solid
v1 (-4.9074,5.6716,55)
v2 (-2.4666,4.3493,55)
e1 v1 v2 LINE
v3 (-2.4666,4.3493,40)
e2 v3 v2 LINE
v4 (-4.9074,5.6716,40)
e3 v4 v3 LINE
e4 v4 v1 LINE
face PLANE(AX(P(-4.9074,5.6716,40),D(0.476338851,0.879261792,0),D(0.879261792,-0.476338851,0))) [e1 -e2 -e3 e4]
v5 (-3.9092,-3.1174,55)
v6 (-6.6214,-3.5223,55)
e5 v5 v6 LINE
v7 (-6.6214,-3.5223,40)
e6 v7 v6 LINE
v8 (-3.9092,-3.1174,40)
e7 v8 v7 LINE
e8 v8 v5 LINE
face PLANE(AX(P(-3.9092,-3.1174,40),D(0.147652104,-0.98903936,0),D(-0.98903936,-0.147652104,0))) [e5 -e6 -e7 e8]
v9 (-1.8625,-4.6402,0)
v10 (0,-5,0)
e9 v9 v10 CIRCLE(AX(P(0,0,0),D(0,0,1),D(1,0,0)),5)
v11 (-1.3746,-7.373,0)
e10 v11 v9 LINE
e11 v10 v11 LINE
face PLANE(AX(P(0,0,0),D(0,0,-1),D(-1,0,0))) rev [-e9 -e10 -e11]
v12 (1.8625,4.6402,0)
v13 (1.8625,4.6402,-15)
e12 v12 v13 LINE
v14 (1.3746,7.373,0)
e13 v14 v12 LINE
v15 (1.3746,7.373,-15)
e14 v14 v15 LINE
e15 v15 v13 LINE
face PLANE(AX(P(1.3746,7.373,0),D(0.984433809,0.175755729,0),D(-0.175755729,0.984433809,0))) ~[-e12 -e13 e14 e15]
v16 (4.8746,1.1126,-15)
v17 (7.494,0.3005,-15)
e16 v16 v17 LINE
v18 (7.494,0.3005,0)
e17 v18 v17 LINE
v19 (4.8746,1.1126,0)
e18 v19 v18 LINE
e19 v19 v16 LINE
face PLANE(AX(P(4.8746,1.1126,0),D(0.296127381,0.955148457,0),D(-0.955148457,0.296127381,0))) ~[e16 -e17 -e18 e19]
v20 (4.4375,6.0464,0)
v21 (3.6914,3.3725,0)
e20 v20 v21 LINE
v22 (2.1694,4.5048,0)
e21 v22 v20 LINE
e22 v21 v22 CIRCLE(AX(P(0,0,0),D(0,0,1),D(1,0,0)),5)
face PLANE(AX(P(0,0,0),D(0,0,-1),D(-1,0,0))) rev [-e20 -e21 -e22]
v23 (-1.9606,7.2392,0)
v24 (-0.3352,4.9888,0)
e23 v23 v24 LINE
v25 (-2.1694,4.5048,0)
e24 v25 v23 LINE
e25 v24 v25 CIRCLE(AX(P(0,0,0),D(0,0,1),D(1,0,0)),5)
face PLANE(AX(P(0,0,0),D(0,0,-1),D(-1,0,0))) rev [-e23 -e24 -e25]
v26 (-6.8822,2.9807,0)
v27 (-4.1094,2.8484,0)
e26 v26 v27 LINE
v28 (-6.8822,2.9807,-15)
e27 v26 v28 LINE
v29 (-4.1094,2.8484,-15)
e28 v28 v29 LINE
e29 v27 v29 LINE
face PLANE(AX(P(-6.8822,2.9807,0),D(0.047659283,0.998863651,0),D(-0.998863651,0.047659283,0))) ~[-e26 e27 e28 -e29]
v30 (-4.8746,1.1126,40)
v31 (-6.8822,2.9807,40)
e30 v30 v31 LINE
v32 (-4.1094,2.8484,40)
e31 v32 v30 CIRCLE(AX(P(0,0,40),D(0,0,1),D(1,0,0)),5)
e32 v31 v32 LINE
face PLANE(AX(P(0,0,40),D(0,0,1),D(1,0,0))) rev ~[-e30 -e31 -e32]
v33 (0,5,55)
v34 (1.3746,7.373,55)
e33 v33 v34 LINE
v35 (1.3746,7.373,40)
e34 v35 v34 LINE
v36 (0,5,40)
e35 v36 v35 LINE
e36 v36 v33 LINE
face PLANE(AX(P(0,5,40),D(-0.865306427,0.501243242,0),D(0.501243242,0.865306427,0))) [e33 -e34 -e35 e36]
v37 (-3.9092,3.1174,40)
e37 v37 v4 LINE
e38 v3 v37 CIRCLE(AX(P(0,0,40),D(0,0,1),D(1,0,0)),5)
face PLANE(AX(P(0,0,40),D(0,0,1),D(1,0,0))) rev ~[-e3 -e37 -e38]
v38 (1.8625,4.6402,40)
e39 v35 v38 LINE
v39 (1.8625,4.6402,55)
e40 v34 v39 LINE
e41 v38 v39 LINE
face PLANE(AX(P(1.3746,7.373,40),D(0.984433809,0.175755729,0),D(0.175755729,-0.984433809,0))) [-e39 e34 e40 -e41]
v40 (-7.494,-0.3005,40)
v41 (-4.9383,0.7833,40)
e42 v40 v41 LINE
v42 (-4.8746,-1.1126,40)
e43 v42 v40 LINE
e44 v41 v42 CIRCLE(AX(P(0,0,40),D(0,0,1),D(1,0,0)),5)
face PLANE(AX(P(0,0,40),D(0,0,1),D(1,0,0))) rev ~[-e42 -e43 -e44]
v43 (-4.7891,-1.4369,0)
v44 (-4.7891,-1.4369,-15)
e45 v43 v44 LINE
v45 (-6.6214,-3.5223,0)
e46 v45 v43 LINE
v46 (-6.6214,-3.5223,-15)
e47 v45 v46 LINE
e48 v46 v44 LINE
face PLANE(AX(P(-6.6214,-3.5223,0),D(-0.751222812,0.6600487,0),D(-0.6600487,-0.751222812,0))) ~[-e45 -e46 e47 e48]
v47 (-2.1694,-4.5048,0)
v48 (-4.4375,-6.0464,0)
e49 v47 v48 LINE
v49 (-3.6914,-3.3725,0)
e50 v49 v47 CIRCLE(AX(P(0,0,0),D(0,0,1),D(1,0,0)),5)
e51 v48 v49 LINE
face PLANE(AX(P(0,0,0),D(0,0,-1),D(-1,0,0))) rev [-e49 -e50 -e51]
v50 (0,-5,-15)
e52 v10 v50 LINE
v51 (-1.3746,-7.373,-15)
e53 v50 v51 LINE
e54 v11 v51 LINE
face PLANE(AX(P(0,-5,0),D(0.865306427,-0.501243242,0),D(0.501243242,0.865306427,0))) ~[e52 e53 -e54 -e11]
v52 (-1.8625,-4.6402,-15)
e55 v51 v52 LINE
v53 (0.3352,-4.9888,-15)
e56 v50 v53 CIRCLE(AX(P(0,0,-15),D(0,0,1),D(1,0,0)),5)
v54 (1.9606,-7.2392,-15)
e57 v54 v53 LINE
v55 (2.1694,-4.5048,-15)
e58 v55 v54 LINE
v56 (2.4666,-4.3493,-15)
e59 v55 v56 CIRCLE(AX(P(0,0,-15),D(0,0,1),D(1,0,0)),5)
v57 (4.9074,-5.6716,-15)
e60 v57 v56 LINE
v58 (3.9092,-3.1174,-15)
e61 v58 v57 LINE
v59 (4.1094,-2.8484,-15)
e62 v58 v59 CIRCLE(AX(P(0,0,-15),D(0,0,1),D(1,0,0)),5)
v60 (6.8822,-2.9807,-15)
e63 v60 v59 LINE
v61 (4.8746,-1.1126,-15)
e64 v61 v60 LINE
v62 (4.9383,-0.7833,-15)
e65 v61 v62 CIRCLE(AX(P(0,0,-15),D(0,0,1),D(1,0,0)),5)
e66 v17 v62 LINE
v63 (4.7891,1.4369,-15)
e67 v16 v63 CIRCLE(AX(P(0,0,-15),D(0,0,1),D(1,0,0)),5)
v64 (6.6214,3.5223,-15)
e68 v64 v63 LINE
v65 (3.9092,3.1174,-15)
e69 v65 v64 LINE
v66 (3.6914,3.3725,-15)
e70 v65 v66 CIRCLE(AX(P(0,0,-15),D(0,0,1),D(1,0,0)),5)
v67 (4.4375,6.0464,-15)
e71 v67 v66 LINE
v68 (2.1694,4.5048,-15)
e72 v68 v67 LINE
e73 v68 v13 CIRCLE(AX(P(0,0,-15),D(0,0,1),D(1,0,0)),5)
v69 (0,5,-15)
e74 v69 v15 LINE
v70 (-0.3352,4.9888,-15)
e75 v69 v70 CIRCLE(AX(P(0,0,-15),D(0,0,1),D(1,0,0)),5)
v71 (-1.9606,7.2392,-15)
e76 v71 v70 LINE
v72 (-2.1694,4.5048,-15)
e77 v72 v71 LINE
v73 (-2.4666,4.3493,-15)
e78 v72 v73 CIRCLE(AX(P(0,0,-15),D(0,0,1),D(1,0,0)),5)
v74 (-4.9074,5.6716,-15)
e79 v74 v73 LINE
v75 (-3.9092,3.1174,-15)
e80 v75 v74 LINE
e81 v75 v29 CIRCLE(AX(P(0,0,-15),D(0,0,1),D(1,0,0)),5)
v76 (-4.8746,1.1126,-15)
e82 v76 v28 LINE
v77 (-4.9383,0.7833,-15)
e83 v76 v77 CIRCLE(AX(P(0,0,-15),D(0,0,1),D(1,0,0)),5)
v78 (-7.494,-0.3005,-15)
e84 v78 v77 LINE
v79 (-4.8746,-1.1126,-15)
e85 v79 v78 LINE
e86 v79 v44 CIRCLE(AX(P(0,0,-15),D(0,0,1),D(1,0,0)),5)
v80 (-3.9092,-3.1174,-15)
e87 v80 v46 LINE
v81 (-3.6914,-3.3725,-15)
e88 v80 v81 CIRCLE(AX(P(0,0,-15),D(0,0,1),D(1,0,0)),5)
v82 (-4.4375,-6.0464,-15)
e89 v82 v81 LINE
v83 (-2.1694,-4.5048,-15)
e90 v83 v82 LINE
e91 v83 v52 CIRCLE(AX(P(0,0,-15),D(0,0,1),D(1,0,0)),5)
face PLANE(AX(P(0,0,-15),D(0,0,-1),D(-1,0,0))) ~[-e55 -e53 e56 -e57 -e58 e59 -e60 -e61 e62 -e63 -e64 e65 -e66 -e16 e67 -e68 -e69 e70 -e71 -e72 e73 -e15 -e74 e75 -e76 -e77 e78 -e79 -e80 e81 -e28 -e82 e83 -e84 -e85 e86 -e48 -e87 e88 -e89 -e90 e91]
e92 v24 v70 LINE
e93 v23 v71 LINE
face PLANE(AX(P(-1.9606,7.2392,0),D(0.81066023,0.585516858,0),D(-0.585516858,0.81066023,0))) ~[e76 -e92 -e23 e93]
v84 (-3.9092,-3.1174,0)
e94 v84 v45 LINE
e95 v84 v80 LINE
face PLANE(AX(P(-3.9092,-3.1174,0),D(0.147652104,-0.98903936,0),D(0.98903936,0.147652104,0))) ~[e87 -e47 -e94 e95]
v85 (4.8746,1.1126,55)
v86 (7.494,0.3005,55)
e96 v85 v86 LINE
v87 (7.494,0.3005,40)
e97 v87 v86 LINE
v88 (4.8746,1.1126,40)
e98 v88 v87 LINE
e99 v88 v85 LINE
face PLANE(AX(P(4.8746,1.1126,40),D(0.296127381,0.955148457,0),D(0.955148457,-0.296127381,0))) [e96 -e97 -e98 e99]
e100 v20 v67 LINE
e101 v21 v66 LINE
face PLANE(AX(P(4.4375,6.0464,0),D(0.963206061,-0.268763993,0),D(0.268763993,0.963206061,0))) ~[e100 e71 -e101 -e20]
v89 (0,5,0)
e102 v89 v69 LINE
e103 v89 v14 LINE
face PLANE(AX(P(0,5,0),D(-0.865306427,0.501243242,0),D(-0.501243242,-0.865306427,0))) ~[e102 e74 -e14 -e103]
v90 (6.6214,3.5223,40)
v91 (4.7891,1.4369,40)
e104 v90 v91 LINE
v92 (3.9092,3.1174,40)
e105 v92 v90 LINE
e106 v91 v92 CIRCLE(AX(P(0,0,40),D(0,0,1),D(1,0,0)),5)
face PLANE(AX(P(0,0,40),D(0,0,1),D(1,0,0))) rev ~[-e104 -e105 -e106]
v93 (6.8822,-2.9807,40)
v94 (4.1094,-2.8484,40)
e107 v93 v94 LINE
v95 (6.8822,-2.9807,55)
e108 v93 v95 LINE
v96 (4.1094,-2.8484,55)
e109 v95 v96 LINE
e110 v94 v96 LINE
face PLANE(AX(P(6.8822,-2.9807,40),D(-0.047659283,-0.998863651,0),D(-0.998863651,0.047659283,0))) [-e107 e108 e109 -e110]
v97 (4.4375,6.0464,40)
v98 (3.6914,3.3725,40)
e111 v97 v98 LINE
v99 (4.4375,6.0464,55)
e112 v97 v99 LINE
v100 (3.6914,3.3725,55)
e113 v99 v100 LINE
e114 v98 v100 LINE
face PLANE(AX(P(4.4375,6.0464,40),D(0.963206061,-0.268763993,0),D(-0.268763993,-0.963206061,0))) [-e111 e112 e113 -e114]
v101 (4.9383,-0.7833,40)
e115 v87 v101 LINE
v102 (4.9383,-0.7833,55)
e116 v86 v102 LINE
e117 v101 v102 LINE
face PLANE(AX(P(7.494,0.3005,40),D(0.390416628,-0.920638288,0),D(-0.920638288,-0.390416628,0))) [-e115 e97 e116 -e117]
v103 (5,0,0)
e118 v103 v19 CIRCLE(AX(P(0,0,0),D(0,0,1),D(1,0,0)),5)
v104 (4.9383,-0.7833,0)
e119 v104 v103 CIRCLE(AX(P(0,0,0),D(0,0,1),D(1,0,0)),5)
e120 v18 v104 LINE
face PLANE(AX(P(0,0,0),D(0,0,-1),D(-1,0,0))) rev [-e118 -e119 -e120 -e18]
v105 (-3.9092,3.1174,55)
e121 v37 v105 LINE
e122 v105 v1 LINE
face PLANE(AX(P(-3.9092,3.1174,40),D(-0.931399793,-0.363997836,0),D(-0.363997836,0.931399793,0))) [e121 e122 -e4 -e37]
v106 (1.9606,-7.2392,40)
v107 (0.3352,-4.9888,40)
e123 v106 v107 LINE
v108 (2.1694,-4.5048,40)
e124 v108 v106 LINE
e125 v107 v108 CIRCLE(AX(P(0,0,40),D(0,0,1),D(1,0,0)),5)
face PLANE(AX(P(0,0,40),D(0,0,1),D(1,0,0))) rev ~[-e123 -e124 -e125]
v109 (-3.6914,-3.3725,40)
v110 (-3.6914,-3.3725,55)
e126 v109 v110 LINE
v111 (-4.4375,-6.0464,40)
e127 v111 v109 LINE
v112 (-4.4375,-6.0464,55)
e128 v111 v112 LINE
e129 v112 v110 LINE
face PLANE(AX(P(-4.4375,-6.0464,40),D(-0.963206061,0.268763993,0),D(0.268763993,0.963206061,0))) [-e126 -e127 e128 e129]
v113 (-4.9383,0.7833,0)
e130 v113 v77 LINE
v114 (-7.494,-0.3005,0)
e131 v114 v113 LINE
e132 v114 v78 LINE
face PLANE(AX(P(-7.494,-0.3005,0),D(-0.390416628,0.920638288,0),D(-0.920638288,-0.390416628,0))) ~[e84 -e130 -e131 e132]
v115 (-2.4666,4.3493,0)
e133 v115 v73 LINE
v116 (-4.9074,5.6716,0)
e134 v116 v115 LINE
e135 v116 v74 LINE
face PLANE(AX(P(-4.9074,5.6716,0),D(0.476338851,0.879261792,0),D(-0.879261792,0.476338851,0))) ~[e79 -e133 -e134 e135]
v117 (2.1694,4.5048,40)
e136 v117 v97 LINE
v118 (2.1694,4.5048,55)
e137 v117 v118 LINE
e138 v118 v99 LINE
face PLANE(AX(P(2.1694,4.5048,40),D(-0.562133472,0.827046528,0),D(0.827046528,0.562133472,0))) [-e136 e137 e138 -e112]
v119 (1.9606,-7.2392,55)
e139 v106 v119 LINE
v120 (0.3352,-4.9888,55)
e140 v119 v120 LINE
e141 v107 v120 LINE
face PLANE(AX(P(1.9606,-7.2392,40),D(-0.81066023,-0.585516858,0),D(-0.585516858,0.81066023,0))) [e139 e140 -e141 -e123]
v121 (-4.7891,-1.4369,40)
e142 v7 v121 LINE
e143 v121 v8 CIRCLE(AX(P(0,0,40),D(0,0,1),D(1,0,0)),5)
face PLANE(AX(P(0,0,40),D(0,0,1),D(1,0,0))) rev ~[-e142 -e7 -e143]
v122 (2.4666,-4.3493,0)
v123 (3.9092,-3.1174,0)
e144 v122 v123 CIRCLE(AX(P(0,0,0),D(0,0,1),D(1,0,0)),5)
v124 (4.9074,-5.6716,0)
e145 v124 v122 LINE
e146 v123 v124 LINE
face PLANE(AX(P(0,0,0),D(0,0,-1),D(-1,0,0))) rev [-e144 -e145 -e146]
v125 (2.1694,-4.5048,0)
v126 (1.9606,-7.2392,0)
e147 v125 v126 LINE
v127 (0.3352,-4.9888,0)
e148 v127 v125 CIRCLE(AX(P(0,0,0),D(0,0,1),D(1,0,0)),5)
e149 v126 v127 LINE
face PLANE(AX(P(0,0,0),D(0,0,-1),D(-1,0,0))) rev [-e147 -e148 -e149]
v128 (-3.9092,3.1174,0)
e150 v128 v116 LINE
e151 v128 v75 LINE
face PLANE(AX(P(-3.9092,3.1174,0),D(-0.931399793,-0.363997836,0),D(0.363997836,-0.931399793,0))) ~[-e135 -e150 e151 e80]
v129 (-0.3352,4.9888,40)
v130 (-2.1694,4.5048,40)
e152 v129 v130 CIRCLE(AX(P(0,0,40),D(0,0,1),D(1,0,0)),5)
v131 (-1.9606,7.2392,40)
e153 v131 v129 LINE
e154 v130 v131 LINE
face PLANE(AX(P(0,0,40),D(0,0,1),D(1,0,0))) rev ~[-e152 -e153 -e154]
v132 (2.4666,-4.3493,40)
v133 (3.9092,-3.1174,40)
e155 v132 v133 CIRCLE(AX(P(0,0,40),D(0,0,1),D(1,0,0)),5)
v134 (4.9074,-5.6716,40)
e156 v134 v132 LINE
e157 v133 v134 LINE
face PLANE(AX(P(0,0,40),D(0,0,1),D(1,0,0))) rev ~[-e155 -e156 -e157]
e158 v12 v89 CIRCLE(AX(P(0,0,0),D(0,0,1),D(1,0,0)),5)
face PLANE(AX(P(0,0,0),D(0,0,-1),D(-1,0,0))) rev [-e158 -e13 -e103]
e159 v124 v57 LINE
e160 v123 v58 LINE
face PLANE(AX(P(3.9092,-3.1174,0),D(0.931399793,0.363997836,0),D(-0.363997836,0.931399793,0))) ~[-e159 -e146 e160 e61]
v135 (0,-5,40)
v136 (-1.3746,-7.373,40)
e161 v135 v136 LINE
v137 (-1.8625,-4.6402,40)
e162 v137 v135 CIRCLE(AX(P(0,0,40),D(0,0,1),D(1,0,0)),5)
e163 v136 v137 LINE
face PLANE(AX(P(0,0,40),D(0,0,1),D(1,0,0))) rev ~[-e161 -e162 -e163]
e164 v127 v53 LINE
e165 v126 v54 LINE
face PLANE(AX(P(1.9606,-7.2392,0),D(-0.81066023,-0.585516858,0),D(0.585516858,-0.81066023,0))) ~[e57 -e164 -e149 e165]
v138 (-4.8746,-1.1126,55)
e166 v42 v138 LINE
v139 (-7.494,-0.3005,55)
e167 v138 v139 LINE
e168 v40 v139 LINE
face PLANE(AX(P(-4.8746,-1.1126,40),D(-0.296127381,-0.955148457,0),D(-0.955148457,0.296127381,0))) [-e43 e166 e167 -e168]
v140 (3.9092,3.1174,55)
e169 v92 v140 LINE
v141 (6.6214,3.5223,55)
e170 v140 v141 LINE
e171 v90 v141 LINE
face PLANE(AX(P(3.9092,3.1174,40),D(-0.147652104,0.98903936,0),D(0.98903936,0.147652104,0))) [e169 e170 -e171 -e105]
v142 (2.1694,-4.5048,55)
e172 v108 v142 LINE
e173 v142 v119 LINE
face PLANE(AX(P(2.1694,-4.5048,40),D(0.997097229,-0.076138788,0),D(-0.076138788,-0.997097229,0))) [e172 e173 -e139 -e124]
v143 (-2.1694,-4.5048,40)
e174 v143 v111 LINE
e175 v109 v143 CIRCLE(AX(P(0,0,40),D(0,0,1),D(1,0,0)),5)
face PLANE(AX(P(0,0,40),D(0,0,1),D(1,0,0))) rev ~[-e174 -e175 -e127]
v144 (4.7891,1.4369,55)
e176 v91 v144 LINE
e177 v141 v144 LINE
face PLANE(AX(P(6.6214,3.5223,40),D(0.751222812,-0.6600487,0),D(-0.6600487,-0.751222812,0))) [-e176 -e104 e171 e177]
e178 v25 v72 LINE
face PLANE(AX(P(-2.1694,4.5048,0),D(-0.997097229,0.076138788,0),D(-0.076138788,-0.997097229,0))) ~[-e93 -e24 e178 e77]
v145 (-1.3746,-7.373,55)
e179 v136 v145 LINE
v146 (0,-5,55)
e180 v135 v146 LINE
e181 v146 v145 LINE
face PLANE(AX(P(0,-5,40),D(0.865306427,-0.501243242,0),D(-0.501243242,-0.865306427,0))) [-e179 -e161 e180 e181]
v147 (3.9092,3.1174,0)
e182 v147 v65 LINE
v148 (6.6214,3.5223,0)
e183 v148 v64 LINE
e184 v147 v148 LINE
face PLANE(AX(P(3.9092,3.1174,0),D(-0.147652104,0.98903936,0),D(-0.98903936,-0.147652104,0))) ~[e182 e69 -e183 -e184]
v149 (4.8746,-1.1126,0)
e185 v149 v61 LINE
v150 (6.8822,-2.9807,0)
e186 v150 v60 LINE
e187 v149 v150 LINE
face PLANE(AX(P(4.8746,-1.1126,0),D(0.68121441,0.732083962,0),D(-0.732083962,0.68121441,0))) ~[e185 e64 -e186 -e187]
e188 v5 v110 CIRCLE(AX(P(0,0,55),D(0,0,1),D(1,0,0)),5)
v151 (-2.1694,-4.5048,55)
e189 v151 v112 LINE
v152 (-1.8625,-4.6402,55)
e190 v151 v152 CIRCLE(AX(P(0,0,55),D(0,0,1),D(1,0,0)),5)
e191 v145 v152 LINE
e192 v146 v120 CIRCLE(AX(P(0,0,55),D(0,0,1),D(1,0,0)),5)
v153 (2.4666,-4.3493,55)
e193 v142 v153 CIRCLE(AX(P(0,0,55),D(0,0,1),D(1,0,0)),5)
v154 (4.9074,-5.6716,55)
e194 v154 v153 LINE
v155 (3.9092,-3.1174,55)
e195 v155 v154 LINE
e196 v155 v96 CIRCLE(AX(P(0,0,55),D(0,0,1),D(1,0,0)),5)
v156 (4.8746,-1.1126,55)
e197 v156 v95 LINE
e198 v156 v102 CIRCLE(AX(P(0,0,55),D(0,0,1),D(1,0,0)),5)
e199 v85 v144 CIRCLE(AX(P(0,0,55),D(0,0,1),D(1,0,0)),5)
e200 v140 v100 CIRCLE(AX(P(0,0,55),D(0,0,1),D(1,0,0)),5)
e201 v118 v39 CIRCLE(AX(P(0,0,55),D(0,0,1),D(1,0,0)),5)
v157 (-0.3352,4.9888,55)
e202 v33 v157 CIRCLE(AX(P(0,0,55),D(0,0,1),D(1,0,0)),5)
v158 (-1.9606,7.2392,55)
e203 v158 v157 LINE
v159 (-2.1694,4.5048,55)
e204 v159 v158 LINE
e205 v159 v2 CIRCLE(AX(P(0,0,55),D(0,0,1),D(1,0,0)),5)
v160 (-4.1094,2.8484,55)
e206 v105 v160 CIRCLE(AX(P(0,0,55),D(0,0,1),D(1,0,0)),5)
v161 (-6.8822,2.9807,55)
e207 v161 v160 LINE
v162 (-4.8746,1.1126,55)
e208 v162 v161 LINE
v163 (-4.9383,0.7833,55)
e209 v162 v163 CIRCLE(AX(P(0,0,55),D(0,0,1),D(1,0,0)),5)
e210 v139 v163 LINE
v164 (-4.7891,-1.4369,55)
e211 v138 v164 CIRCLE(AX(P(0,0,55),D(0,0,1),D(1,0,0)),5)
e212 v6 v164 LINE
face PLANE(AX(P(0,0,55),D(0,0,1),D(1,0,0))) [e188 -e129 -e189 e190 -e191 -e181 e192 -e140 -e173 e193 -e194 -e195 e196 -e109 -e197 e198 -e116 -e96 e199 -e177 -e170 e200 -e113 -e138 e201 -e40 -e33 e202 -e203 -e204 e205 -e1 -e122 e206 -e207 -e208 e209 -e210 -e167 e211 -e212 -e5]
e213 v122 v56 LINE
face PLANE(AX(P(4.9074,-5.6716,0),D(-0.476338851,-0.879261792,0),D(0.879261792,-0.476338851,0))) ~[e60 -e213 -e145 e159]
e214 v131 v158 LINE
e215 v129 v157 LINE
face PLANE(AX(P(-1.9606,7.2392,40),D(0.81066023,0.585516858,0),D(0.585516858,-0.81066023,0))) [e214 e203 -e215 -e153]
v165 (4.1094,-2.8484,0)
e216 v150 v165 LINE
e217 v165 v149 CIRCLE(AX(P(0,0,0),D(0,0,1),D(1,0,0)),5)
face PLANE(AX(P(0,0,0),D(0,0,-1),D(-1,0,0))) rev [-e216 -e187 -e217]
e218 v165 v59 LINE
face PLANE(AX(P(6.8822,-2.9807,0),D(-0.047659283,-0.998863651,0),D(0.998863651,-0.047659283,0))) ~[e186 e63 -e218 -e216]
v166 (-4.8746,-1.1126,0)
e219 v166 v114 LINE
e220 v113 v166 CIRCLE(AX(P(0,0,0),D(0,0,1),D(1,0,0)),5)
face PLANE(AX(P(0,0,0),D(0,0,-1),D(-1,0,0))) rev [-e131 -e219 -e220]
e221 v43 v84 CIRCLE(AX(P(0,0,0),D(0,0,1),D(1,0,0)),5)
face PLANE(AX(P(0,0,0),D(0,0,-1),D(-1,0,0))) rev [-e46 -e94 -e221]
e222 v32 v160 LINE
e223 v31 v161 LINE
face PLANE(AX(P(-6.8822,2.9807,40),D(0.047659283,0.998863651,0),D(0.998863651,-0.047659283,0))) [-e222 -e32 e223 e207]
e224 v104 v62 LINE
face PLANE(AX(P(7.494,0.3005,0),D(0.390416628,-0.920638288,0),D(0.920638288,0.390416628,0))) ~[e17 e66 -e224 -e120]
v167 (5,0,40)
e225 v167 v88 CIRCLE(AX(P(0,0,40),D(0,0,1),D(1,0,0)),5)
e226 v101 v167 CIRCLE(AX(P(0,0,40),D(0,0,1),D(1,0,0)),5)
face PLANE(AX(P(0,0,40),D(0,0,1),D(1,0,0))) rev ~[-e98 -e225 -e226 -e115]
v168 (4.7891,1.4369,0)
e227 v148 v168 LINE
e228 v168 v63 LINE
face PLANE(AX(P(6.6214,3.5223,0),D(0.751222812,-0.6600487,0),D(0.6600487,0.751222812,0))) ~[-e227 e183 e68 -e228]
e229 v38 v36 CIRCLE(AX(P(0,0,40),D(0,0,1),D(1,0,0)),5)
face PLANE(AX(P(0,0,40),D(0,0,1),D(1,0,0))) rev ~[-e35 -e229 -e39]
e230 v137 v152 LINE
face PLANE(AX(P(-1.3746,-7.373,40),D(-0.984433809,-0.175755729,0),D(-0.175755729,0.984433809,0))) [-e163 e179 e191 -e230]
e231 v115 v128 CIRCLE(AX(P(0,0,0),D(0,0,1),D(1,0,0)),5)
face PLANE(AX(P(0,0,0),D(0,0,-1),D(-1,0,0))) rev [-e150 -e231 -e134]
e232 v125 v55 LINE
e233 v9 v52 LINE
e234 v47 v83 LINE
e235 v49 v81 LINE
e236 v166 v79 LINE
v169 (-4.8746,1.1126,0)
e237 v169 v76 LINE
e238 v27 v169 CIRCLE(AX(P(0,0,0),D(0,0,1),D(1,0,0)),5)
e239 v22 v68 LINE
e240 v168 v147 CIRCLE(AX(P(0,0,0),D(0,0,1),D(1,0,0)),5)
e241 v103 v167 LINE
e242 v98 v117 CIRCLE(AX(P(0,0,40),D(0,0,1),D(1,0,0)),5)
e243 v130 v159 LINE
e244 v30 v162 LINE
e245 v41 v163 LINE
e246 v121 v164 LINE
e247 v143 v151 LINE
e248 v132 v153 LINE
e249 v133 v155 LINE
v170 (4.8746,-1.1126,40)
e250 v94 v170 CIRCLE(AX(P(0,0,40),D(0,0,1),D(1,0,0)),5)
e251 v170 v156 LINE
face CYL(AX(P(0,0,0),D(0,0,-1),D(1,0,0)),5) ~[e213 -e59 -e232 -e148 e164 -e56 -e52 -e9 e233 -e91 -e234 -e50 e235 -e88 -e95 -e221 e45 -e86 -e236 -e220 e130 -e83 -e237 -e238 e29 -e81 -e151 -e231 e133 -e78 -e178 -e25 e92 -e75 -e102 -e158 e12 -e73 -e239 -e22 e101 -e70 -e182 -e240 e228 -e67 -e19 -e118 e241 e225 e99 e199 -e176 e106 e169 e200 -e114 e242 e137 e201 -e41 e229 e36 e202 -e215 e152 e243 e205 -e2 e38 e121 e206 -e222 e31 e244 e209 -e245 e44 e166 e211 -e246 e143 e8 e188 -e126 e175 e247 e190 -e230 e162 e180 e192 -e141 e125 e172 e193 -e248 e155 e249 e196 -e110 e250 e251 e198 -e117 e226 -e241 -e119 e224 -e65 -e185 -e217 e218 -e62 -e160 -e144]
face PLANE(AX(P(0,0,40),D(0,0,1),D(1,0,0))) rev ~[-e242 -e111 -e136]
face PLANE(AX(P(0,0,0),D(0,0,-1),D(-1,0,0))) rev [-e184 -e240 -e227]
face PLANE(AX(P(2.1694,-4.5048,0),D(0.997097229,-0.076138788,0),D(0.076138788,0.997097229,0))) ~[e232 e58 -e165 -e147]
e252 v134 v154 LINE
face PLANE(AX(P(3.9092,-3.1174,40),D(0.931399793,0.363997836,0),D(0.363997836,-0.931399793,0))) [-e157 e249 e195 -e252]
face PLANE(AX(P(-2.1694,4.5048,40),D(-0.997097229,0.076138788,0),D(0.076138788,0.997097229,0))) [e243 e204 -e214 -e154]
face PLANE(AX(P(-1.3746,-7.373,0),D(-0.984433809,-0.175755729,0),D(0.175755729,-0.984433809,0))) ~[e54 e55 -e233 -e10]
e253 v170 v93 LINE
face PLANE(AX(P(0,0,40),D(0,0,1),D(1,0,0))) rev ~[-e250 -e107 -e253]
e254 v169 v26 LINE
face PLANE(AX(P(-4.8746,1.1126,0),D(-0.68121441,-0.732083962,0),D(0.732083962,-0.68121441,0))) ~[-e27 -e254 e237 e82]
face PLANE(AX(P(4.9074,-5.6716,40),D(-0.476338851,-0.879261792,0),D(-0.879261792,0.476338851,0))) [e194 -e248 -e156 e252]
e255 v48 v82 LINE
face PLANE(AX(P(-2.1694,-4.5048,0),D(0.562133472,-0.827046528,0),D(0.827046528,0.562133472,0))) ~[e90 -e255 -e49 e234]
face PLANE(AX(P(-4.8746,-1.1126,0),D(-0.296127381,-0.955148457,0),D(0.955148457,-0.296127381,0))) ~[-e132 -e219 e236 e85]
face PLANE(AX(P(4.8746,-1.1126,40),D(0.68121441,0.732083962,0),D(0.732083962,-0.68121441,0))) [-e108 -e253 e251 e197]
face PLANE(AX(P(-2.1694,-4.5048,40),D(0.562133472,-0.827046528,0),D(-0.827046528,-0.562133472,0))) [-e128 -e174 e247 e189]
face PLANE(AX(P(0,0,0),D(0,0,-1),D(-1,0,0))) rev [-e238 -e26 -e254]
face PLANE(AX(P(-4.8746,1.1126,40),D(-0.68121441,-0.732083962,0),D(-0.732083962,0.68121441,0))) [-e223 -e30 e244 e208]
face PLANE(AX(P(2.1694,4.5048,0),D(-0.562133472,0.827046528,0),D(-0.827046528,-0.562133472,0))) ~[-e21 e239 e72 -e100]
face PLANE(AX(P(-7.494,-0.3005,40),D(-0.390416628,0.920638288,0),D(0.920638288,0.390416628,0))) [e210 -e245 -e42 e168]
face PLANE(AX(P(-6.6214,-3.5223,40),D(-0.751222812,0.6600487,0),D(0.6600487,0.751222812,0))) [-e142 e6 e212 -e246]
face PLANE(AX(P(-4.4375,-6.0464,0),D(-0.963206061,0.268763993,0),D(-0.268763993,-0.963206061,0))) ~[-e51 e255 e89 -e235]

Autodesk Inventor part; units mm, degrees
ref_plane "YZ Plane" through (0, 0, 0) normal (1, 0, 0) x (0, 1, 0)
ref_plane "XZ Plane" through (0, 0, 0) normal (0, 1, 0) x (-1, 0, 0)
ref_plane "XY Plane" through (0, 0, 0) normal (0, 0, 1) x (1, 0, 0)
sketch "Skizze1" plane through (0, 0, 0) normal (0, 0, 1) x (1, 0, 0)
  circle A0 centre (0, 0) radius 5
  dimension "d0" = 10
extrude "Extrusion1" add sketch "Skizze1" along normal blind 40
sketch "Skizze2" plane through (0, 0, 40) normal (0, 0, 1) x (1, 0, 0)
  circle A0 centre (0, 0) radius 5 projected
  circle A1 centre (0, 0) radius 7.5
  circle A2 centre (0, 0) radius 5 projected
  line L0 (0, -5) -> (-1.3746, -7.373)
  line L1 (-1.3746, -7.373) -> (-1.8625, -4.6402)
  arc A3 (-1.8625, -4.6402) -> (0, -5) centre (0, 0) ccw
  line L2 (2.1694, -4.5048) -> (1.9606, -7.2392)
  line L3 (1.9606, -7.2392) -> (0.3352, -4.9888)
  arc A4 (0.3352, -4.9888) -> (2.1694, -4.5048) centre (0, 0) ccw
  line L4 (3.9092, -3.1174) -> (4.9074, -5.6716)
  line L5 (4.9074, -5.6716) -> (2.4666, -4.3493)
  arc A5 (2.4666, -4.3493) -> (3.9092, -3.1174) centre (0, 0) ccw
  line L6 (4.8746, -1.1126) -> (6.8822, -2.9807)
  line L7 (6.8822, -2.9807) -> (4.1094, -2.8484)
  arc A6 (4.1094, -2.8484) -> (4.8746, -1.1126) centre (0, 0) ccw
  line L8 (4.8746, 1.1126) -> (7.494, 0.3005)
  line L9 (7.494, 0.3005) -> (4.9383, -0.7833)
  arc A7 (4.9383, -0.7833) -> (4.8746, 1.1126) centre (0, 0) ccw
  line L10 (3.9092, 3.1174) -> (6.6214, 3.5223)
  line L11 (6.6214, 3.5223) -> (4.7891, 1.4369)
  arc A8 (4.7891, 1.4369) -> (3.9092, 3.1174) centre (0, 0) ccw
  line L12 (2.1694, 4.5048) -> (4.4375, 6.0464)
  line L13 (4.4375, 6.0464) -> (3.6914, 3.3725)
  arc A9 (3.6914, 3.3725) -> (2.1694, 4.5048) centre (0, 0) ccw
  line L14 (0, 5) -> (1.3746, 7.373)
  line L15 (1.3746, 7.373) -> (1.8625, 4.6402)
  arc A10 (1.8625, 4.6402) -> (0, 5) centre (0, 0) ccw
  line L16 (-2.1694, 4.5048) -> (-1.9606, 7.2392)
  line L17 (-1.9606, 7.2392) -> (-0.3352, 4.9888)
  arc A11 (-0.3352, 4.9888) -> (-2.1694, 4.5048) centre (0, 0) ccw
  line L18 (-3.9092, 3.1174) -> (-4.9074, 5.6716)
  line L19 (-4.9074, 5.6716) -> (-2.4666, 4.3493)
  arc A12 (-2.4666, 4.3493) -> (-3.9092, 3.1174) centre (0, 0) ccw
  line L20 (-4.8746, 1.1126) -> (-6.8822, 2.9807)
  line L21 (-6.8822, 2.9807) -> (-4.1094, 2.8484)
  arc A13 (-4.1094, 2.8484) -> (-4.8746, 1.1126) centre (0, 0) ccw
  line L22 (-4.8746, -1.1126) -> (-7.494, -0.3005)
  line L23 (-7.494, -0.3005) -> (-4.9383, 0.7833)
  arc A14 (-4.9383, 0.7833) -> (-4.8746, -1.1126) centre (0, 0) ccw
  line L24 (-3.9092, -3.1174) -> (-6.6214, -3.5223)
  line L25 (-6.6214, -3.5223) -> (-4.7891, -1.4369)
  arc A15 (-4.7891, -1.4369) -> (-3.9092, -3.1174) centre (0, 0) ccw
  line L26 (-2.1694, -4.5048) -> (-4.4375, -6.0464)
  line L27 (-4.4375, -6.0464) -> (-3.6914, -3.3725)
  arc A16 (-3.6914, -3.3725) -> (-2.1694, -4.5048) centre (0, 0) ccw
  dimension "d3" = 15
  dimension "d6" = 360
extrude "Extrusion2" add sketch "Skizze2" along normal blind 15 contours A0 | A0 L8 L9 | A0 L10 L11 | L6 L7 A0 | A0 L12 L13 | L4 L5 A0 | L15 A0 L14 | L3 A0 L2 | L17 A0 L16 | L1 A0 L0 | L19 A0 L18 | L27 A0 L26 | L21 A0 L20 | L25 A0 L24 | L23 A0 L22
ref_plane "Arbeitsebene1" through (0, 0, 20) normal (0, 0, -1) x (-1, 0, 0)
mirror "Spiegeln2" about plane through (0, 0, 20) normal (0, 0, -1) of "Extrusion2"
equation "\"d0\" = Durchmesser3"
equation "\"d3\" = Durchmesser1"
equation "\"d8\" = Größe4"
equation "\"Durchmesser1\" = 15"
equation "\"Größe1\" = 7"
equation "\"Durchmesser2\" = 3"
equation "\"Durchmesser3\" = 10"
equation "\"Größe3\" = 3"
equation "\"Größe4\" = 15"
properties part number "WelleRuder1"
